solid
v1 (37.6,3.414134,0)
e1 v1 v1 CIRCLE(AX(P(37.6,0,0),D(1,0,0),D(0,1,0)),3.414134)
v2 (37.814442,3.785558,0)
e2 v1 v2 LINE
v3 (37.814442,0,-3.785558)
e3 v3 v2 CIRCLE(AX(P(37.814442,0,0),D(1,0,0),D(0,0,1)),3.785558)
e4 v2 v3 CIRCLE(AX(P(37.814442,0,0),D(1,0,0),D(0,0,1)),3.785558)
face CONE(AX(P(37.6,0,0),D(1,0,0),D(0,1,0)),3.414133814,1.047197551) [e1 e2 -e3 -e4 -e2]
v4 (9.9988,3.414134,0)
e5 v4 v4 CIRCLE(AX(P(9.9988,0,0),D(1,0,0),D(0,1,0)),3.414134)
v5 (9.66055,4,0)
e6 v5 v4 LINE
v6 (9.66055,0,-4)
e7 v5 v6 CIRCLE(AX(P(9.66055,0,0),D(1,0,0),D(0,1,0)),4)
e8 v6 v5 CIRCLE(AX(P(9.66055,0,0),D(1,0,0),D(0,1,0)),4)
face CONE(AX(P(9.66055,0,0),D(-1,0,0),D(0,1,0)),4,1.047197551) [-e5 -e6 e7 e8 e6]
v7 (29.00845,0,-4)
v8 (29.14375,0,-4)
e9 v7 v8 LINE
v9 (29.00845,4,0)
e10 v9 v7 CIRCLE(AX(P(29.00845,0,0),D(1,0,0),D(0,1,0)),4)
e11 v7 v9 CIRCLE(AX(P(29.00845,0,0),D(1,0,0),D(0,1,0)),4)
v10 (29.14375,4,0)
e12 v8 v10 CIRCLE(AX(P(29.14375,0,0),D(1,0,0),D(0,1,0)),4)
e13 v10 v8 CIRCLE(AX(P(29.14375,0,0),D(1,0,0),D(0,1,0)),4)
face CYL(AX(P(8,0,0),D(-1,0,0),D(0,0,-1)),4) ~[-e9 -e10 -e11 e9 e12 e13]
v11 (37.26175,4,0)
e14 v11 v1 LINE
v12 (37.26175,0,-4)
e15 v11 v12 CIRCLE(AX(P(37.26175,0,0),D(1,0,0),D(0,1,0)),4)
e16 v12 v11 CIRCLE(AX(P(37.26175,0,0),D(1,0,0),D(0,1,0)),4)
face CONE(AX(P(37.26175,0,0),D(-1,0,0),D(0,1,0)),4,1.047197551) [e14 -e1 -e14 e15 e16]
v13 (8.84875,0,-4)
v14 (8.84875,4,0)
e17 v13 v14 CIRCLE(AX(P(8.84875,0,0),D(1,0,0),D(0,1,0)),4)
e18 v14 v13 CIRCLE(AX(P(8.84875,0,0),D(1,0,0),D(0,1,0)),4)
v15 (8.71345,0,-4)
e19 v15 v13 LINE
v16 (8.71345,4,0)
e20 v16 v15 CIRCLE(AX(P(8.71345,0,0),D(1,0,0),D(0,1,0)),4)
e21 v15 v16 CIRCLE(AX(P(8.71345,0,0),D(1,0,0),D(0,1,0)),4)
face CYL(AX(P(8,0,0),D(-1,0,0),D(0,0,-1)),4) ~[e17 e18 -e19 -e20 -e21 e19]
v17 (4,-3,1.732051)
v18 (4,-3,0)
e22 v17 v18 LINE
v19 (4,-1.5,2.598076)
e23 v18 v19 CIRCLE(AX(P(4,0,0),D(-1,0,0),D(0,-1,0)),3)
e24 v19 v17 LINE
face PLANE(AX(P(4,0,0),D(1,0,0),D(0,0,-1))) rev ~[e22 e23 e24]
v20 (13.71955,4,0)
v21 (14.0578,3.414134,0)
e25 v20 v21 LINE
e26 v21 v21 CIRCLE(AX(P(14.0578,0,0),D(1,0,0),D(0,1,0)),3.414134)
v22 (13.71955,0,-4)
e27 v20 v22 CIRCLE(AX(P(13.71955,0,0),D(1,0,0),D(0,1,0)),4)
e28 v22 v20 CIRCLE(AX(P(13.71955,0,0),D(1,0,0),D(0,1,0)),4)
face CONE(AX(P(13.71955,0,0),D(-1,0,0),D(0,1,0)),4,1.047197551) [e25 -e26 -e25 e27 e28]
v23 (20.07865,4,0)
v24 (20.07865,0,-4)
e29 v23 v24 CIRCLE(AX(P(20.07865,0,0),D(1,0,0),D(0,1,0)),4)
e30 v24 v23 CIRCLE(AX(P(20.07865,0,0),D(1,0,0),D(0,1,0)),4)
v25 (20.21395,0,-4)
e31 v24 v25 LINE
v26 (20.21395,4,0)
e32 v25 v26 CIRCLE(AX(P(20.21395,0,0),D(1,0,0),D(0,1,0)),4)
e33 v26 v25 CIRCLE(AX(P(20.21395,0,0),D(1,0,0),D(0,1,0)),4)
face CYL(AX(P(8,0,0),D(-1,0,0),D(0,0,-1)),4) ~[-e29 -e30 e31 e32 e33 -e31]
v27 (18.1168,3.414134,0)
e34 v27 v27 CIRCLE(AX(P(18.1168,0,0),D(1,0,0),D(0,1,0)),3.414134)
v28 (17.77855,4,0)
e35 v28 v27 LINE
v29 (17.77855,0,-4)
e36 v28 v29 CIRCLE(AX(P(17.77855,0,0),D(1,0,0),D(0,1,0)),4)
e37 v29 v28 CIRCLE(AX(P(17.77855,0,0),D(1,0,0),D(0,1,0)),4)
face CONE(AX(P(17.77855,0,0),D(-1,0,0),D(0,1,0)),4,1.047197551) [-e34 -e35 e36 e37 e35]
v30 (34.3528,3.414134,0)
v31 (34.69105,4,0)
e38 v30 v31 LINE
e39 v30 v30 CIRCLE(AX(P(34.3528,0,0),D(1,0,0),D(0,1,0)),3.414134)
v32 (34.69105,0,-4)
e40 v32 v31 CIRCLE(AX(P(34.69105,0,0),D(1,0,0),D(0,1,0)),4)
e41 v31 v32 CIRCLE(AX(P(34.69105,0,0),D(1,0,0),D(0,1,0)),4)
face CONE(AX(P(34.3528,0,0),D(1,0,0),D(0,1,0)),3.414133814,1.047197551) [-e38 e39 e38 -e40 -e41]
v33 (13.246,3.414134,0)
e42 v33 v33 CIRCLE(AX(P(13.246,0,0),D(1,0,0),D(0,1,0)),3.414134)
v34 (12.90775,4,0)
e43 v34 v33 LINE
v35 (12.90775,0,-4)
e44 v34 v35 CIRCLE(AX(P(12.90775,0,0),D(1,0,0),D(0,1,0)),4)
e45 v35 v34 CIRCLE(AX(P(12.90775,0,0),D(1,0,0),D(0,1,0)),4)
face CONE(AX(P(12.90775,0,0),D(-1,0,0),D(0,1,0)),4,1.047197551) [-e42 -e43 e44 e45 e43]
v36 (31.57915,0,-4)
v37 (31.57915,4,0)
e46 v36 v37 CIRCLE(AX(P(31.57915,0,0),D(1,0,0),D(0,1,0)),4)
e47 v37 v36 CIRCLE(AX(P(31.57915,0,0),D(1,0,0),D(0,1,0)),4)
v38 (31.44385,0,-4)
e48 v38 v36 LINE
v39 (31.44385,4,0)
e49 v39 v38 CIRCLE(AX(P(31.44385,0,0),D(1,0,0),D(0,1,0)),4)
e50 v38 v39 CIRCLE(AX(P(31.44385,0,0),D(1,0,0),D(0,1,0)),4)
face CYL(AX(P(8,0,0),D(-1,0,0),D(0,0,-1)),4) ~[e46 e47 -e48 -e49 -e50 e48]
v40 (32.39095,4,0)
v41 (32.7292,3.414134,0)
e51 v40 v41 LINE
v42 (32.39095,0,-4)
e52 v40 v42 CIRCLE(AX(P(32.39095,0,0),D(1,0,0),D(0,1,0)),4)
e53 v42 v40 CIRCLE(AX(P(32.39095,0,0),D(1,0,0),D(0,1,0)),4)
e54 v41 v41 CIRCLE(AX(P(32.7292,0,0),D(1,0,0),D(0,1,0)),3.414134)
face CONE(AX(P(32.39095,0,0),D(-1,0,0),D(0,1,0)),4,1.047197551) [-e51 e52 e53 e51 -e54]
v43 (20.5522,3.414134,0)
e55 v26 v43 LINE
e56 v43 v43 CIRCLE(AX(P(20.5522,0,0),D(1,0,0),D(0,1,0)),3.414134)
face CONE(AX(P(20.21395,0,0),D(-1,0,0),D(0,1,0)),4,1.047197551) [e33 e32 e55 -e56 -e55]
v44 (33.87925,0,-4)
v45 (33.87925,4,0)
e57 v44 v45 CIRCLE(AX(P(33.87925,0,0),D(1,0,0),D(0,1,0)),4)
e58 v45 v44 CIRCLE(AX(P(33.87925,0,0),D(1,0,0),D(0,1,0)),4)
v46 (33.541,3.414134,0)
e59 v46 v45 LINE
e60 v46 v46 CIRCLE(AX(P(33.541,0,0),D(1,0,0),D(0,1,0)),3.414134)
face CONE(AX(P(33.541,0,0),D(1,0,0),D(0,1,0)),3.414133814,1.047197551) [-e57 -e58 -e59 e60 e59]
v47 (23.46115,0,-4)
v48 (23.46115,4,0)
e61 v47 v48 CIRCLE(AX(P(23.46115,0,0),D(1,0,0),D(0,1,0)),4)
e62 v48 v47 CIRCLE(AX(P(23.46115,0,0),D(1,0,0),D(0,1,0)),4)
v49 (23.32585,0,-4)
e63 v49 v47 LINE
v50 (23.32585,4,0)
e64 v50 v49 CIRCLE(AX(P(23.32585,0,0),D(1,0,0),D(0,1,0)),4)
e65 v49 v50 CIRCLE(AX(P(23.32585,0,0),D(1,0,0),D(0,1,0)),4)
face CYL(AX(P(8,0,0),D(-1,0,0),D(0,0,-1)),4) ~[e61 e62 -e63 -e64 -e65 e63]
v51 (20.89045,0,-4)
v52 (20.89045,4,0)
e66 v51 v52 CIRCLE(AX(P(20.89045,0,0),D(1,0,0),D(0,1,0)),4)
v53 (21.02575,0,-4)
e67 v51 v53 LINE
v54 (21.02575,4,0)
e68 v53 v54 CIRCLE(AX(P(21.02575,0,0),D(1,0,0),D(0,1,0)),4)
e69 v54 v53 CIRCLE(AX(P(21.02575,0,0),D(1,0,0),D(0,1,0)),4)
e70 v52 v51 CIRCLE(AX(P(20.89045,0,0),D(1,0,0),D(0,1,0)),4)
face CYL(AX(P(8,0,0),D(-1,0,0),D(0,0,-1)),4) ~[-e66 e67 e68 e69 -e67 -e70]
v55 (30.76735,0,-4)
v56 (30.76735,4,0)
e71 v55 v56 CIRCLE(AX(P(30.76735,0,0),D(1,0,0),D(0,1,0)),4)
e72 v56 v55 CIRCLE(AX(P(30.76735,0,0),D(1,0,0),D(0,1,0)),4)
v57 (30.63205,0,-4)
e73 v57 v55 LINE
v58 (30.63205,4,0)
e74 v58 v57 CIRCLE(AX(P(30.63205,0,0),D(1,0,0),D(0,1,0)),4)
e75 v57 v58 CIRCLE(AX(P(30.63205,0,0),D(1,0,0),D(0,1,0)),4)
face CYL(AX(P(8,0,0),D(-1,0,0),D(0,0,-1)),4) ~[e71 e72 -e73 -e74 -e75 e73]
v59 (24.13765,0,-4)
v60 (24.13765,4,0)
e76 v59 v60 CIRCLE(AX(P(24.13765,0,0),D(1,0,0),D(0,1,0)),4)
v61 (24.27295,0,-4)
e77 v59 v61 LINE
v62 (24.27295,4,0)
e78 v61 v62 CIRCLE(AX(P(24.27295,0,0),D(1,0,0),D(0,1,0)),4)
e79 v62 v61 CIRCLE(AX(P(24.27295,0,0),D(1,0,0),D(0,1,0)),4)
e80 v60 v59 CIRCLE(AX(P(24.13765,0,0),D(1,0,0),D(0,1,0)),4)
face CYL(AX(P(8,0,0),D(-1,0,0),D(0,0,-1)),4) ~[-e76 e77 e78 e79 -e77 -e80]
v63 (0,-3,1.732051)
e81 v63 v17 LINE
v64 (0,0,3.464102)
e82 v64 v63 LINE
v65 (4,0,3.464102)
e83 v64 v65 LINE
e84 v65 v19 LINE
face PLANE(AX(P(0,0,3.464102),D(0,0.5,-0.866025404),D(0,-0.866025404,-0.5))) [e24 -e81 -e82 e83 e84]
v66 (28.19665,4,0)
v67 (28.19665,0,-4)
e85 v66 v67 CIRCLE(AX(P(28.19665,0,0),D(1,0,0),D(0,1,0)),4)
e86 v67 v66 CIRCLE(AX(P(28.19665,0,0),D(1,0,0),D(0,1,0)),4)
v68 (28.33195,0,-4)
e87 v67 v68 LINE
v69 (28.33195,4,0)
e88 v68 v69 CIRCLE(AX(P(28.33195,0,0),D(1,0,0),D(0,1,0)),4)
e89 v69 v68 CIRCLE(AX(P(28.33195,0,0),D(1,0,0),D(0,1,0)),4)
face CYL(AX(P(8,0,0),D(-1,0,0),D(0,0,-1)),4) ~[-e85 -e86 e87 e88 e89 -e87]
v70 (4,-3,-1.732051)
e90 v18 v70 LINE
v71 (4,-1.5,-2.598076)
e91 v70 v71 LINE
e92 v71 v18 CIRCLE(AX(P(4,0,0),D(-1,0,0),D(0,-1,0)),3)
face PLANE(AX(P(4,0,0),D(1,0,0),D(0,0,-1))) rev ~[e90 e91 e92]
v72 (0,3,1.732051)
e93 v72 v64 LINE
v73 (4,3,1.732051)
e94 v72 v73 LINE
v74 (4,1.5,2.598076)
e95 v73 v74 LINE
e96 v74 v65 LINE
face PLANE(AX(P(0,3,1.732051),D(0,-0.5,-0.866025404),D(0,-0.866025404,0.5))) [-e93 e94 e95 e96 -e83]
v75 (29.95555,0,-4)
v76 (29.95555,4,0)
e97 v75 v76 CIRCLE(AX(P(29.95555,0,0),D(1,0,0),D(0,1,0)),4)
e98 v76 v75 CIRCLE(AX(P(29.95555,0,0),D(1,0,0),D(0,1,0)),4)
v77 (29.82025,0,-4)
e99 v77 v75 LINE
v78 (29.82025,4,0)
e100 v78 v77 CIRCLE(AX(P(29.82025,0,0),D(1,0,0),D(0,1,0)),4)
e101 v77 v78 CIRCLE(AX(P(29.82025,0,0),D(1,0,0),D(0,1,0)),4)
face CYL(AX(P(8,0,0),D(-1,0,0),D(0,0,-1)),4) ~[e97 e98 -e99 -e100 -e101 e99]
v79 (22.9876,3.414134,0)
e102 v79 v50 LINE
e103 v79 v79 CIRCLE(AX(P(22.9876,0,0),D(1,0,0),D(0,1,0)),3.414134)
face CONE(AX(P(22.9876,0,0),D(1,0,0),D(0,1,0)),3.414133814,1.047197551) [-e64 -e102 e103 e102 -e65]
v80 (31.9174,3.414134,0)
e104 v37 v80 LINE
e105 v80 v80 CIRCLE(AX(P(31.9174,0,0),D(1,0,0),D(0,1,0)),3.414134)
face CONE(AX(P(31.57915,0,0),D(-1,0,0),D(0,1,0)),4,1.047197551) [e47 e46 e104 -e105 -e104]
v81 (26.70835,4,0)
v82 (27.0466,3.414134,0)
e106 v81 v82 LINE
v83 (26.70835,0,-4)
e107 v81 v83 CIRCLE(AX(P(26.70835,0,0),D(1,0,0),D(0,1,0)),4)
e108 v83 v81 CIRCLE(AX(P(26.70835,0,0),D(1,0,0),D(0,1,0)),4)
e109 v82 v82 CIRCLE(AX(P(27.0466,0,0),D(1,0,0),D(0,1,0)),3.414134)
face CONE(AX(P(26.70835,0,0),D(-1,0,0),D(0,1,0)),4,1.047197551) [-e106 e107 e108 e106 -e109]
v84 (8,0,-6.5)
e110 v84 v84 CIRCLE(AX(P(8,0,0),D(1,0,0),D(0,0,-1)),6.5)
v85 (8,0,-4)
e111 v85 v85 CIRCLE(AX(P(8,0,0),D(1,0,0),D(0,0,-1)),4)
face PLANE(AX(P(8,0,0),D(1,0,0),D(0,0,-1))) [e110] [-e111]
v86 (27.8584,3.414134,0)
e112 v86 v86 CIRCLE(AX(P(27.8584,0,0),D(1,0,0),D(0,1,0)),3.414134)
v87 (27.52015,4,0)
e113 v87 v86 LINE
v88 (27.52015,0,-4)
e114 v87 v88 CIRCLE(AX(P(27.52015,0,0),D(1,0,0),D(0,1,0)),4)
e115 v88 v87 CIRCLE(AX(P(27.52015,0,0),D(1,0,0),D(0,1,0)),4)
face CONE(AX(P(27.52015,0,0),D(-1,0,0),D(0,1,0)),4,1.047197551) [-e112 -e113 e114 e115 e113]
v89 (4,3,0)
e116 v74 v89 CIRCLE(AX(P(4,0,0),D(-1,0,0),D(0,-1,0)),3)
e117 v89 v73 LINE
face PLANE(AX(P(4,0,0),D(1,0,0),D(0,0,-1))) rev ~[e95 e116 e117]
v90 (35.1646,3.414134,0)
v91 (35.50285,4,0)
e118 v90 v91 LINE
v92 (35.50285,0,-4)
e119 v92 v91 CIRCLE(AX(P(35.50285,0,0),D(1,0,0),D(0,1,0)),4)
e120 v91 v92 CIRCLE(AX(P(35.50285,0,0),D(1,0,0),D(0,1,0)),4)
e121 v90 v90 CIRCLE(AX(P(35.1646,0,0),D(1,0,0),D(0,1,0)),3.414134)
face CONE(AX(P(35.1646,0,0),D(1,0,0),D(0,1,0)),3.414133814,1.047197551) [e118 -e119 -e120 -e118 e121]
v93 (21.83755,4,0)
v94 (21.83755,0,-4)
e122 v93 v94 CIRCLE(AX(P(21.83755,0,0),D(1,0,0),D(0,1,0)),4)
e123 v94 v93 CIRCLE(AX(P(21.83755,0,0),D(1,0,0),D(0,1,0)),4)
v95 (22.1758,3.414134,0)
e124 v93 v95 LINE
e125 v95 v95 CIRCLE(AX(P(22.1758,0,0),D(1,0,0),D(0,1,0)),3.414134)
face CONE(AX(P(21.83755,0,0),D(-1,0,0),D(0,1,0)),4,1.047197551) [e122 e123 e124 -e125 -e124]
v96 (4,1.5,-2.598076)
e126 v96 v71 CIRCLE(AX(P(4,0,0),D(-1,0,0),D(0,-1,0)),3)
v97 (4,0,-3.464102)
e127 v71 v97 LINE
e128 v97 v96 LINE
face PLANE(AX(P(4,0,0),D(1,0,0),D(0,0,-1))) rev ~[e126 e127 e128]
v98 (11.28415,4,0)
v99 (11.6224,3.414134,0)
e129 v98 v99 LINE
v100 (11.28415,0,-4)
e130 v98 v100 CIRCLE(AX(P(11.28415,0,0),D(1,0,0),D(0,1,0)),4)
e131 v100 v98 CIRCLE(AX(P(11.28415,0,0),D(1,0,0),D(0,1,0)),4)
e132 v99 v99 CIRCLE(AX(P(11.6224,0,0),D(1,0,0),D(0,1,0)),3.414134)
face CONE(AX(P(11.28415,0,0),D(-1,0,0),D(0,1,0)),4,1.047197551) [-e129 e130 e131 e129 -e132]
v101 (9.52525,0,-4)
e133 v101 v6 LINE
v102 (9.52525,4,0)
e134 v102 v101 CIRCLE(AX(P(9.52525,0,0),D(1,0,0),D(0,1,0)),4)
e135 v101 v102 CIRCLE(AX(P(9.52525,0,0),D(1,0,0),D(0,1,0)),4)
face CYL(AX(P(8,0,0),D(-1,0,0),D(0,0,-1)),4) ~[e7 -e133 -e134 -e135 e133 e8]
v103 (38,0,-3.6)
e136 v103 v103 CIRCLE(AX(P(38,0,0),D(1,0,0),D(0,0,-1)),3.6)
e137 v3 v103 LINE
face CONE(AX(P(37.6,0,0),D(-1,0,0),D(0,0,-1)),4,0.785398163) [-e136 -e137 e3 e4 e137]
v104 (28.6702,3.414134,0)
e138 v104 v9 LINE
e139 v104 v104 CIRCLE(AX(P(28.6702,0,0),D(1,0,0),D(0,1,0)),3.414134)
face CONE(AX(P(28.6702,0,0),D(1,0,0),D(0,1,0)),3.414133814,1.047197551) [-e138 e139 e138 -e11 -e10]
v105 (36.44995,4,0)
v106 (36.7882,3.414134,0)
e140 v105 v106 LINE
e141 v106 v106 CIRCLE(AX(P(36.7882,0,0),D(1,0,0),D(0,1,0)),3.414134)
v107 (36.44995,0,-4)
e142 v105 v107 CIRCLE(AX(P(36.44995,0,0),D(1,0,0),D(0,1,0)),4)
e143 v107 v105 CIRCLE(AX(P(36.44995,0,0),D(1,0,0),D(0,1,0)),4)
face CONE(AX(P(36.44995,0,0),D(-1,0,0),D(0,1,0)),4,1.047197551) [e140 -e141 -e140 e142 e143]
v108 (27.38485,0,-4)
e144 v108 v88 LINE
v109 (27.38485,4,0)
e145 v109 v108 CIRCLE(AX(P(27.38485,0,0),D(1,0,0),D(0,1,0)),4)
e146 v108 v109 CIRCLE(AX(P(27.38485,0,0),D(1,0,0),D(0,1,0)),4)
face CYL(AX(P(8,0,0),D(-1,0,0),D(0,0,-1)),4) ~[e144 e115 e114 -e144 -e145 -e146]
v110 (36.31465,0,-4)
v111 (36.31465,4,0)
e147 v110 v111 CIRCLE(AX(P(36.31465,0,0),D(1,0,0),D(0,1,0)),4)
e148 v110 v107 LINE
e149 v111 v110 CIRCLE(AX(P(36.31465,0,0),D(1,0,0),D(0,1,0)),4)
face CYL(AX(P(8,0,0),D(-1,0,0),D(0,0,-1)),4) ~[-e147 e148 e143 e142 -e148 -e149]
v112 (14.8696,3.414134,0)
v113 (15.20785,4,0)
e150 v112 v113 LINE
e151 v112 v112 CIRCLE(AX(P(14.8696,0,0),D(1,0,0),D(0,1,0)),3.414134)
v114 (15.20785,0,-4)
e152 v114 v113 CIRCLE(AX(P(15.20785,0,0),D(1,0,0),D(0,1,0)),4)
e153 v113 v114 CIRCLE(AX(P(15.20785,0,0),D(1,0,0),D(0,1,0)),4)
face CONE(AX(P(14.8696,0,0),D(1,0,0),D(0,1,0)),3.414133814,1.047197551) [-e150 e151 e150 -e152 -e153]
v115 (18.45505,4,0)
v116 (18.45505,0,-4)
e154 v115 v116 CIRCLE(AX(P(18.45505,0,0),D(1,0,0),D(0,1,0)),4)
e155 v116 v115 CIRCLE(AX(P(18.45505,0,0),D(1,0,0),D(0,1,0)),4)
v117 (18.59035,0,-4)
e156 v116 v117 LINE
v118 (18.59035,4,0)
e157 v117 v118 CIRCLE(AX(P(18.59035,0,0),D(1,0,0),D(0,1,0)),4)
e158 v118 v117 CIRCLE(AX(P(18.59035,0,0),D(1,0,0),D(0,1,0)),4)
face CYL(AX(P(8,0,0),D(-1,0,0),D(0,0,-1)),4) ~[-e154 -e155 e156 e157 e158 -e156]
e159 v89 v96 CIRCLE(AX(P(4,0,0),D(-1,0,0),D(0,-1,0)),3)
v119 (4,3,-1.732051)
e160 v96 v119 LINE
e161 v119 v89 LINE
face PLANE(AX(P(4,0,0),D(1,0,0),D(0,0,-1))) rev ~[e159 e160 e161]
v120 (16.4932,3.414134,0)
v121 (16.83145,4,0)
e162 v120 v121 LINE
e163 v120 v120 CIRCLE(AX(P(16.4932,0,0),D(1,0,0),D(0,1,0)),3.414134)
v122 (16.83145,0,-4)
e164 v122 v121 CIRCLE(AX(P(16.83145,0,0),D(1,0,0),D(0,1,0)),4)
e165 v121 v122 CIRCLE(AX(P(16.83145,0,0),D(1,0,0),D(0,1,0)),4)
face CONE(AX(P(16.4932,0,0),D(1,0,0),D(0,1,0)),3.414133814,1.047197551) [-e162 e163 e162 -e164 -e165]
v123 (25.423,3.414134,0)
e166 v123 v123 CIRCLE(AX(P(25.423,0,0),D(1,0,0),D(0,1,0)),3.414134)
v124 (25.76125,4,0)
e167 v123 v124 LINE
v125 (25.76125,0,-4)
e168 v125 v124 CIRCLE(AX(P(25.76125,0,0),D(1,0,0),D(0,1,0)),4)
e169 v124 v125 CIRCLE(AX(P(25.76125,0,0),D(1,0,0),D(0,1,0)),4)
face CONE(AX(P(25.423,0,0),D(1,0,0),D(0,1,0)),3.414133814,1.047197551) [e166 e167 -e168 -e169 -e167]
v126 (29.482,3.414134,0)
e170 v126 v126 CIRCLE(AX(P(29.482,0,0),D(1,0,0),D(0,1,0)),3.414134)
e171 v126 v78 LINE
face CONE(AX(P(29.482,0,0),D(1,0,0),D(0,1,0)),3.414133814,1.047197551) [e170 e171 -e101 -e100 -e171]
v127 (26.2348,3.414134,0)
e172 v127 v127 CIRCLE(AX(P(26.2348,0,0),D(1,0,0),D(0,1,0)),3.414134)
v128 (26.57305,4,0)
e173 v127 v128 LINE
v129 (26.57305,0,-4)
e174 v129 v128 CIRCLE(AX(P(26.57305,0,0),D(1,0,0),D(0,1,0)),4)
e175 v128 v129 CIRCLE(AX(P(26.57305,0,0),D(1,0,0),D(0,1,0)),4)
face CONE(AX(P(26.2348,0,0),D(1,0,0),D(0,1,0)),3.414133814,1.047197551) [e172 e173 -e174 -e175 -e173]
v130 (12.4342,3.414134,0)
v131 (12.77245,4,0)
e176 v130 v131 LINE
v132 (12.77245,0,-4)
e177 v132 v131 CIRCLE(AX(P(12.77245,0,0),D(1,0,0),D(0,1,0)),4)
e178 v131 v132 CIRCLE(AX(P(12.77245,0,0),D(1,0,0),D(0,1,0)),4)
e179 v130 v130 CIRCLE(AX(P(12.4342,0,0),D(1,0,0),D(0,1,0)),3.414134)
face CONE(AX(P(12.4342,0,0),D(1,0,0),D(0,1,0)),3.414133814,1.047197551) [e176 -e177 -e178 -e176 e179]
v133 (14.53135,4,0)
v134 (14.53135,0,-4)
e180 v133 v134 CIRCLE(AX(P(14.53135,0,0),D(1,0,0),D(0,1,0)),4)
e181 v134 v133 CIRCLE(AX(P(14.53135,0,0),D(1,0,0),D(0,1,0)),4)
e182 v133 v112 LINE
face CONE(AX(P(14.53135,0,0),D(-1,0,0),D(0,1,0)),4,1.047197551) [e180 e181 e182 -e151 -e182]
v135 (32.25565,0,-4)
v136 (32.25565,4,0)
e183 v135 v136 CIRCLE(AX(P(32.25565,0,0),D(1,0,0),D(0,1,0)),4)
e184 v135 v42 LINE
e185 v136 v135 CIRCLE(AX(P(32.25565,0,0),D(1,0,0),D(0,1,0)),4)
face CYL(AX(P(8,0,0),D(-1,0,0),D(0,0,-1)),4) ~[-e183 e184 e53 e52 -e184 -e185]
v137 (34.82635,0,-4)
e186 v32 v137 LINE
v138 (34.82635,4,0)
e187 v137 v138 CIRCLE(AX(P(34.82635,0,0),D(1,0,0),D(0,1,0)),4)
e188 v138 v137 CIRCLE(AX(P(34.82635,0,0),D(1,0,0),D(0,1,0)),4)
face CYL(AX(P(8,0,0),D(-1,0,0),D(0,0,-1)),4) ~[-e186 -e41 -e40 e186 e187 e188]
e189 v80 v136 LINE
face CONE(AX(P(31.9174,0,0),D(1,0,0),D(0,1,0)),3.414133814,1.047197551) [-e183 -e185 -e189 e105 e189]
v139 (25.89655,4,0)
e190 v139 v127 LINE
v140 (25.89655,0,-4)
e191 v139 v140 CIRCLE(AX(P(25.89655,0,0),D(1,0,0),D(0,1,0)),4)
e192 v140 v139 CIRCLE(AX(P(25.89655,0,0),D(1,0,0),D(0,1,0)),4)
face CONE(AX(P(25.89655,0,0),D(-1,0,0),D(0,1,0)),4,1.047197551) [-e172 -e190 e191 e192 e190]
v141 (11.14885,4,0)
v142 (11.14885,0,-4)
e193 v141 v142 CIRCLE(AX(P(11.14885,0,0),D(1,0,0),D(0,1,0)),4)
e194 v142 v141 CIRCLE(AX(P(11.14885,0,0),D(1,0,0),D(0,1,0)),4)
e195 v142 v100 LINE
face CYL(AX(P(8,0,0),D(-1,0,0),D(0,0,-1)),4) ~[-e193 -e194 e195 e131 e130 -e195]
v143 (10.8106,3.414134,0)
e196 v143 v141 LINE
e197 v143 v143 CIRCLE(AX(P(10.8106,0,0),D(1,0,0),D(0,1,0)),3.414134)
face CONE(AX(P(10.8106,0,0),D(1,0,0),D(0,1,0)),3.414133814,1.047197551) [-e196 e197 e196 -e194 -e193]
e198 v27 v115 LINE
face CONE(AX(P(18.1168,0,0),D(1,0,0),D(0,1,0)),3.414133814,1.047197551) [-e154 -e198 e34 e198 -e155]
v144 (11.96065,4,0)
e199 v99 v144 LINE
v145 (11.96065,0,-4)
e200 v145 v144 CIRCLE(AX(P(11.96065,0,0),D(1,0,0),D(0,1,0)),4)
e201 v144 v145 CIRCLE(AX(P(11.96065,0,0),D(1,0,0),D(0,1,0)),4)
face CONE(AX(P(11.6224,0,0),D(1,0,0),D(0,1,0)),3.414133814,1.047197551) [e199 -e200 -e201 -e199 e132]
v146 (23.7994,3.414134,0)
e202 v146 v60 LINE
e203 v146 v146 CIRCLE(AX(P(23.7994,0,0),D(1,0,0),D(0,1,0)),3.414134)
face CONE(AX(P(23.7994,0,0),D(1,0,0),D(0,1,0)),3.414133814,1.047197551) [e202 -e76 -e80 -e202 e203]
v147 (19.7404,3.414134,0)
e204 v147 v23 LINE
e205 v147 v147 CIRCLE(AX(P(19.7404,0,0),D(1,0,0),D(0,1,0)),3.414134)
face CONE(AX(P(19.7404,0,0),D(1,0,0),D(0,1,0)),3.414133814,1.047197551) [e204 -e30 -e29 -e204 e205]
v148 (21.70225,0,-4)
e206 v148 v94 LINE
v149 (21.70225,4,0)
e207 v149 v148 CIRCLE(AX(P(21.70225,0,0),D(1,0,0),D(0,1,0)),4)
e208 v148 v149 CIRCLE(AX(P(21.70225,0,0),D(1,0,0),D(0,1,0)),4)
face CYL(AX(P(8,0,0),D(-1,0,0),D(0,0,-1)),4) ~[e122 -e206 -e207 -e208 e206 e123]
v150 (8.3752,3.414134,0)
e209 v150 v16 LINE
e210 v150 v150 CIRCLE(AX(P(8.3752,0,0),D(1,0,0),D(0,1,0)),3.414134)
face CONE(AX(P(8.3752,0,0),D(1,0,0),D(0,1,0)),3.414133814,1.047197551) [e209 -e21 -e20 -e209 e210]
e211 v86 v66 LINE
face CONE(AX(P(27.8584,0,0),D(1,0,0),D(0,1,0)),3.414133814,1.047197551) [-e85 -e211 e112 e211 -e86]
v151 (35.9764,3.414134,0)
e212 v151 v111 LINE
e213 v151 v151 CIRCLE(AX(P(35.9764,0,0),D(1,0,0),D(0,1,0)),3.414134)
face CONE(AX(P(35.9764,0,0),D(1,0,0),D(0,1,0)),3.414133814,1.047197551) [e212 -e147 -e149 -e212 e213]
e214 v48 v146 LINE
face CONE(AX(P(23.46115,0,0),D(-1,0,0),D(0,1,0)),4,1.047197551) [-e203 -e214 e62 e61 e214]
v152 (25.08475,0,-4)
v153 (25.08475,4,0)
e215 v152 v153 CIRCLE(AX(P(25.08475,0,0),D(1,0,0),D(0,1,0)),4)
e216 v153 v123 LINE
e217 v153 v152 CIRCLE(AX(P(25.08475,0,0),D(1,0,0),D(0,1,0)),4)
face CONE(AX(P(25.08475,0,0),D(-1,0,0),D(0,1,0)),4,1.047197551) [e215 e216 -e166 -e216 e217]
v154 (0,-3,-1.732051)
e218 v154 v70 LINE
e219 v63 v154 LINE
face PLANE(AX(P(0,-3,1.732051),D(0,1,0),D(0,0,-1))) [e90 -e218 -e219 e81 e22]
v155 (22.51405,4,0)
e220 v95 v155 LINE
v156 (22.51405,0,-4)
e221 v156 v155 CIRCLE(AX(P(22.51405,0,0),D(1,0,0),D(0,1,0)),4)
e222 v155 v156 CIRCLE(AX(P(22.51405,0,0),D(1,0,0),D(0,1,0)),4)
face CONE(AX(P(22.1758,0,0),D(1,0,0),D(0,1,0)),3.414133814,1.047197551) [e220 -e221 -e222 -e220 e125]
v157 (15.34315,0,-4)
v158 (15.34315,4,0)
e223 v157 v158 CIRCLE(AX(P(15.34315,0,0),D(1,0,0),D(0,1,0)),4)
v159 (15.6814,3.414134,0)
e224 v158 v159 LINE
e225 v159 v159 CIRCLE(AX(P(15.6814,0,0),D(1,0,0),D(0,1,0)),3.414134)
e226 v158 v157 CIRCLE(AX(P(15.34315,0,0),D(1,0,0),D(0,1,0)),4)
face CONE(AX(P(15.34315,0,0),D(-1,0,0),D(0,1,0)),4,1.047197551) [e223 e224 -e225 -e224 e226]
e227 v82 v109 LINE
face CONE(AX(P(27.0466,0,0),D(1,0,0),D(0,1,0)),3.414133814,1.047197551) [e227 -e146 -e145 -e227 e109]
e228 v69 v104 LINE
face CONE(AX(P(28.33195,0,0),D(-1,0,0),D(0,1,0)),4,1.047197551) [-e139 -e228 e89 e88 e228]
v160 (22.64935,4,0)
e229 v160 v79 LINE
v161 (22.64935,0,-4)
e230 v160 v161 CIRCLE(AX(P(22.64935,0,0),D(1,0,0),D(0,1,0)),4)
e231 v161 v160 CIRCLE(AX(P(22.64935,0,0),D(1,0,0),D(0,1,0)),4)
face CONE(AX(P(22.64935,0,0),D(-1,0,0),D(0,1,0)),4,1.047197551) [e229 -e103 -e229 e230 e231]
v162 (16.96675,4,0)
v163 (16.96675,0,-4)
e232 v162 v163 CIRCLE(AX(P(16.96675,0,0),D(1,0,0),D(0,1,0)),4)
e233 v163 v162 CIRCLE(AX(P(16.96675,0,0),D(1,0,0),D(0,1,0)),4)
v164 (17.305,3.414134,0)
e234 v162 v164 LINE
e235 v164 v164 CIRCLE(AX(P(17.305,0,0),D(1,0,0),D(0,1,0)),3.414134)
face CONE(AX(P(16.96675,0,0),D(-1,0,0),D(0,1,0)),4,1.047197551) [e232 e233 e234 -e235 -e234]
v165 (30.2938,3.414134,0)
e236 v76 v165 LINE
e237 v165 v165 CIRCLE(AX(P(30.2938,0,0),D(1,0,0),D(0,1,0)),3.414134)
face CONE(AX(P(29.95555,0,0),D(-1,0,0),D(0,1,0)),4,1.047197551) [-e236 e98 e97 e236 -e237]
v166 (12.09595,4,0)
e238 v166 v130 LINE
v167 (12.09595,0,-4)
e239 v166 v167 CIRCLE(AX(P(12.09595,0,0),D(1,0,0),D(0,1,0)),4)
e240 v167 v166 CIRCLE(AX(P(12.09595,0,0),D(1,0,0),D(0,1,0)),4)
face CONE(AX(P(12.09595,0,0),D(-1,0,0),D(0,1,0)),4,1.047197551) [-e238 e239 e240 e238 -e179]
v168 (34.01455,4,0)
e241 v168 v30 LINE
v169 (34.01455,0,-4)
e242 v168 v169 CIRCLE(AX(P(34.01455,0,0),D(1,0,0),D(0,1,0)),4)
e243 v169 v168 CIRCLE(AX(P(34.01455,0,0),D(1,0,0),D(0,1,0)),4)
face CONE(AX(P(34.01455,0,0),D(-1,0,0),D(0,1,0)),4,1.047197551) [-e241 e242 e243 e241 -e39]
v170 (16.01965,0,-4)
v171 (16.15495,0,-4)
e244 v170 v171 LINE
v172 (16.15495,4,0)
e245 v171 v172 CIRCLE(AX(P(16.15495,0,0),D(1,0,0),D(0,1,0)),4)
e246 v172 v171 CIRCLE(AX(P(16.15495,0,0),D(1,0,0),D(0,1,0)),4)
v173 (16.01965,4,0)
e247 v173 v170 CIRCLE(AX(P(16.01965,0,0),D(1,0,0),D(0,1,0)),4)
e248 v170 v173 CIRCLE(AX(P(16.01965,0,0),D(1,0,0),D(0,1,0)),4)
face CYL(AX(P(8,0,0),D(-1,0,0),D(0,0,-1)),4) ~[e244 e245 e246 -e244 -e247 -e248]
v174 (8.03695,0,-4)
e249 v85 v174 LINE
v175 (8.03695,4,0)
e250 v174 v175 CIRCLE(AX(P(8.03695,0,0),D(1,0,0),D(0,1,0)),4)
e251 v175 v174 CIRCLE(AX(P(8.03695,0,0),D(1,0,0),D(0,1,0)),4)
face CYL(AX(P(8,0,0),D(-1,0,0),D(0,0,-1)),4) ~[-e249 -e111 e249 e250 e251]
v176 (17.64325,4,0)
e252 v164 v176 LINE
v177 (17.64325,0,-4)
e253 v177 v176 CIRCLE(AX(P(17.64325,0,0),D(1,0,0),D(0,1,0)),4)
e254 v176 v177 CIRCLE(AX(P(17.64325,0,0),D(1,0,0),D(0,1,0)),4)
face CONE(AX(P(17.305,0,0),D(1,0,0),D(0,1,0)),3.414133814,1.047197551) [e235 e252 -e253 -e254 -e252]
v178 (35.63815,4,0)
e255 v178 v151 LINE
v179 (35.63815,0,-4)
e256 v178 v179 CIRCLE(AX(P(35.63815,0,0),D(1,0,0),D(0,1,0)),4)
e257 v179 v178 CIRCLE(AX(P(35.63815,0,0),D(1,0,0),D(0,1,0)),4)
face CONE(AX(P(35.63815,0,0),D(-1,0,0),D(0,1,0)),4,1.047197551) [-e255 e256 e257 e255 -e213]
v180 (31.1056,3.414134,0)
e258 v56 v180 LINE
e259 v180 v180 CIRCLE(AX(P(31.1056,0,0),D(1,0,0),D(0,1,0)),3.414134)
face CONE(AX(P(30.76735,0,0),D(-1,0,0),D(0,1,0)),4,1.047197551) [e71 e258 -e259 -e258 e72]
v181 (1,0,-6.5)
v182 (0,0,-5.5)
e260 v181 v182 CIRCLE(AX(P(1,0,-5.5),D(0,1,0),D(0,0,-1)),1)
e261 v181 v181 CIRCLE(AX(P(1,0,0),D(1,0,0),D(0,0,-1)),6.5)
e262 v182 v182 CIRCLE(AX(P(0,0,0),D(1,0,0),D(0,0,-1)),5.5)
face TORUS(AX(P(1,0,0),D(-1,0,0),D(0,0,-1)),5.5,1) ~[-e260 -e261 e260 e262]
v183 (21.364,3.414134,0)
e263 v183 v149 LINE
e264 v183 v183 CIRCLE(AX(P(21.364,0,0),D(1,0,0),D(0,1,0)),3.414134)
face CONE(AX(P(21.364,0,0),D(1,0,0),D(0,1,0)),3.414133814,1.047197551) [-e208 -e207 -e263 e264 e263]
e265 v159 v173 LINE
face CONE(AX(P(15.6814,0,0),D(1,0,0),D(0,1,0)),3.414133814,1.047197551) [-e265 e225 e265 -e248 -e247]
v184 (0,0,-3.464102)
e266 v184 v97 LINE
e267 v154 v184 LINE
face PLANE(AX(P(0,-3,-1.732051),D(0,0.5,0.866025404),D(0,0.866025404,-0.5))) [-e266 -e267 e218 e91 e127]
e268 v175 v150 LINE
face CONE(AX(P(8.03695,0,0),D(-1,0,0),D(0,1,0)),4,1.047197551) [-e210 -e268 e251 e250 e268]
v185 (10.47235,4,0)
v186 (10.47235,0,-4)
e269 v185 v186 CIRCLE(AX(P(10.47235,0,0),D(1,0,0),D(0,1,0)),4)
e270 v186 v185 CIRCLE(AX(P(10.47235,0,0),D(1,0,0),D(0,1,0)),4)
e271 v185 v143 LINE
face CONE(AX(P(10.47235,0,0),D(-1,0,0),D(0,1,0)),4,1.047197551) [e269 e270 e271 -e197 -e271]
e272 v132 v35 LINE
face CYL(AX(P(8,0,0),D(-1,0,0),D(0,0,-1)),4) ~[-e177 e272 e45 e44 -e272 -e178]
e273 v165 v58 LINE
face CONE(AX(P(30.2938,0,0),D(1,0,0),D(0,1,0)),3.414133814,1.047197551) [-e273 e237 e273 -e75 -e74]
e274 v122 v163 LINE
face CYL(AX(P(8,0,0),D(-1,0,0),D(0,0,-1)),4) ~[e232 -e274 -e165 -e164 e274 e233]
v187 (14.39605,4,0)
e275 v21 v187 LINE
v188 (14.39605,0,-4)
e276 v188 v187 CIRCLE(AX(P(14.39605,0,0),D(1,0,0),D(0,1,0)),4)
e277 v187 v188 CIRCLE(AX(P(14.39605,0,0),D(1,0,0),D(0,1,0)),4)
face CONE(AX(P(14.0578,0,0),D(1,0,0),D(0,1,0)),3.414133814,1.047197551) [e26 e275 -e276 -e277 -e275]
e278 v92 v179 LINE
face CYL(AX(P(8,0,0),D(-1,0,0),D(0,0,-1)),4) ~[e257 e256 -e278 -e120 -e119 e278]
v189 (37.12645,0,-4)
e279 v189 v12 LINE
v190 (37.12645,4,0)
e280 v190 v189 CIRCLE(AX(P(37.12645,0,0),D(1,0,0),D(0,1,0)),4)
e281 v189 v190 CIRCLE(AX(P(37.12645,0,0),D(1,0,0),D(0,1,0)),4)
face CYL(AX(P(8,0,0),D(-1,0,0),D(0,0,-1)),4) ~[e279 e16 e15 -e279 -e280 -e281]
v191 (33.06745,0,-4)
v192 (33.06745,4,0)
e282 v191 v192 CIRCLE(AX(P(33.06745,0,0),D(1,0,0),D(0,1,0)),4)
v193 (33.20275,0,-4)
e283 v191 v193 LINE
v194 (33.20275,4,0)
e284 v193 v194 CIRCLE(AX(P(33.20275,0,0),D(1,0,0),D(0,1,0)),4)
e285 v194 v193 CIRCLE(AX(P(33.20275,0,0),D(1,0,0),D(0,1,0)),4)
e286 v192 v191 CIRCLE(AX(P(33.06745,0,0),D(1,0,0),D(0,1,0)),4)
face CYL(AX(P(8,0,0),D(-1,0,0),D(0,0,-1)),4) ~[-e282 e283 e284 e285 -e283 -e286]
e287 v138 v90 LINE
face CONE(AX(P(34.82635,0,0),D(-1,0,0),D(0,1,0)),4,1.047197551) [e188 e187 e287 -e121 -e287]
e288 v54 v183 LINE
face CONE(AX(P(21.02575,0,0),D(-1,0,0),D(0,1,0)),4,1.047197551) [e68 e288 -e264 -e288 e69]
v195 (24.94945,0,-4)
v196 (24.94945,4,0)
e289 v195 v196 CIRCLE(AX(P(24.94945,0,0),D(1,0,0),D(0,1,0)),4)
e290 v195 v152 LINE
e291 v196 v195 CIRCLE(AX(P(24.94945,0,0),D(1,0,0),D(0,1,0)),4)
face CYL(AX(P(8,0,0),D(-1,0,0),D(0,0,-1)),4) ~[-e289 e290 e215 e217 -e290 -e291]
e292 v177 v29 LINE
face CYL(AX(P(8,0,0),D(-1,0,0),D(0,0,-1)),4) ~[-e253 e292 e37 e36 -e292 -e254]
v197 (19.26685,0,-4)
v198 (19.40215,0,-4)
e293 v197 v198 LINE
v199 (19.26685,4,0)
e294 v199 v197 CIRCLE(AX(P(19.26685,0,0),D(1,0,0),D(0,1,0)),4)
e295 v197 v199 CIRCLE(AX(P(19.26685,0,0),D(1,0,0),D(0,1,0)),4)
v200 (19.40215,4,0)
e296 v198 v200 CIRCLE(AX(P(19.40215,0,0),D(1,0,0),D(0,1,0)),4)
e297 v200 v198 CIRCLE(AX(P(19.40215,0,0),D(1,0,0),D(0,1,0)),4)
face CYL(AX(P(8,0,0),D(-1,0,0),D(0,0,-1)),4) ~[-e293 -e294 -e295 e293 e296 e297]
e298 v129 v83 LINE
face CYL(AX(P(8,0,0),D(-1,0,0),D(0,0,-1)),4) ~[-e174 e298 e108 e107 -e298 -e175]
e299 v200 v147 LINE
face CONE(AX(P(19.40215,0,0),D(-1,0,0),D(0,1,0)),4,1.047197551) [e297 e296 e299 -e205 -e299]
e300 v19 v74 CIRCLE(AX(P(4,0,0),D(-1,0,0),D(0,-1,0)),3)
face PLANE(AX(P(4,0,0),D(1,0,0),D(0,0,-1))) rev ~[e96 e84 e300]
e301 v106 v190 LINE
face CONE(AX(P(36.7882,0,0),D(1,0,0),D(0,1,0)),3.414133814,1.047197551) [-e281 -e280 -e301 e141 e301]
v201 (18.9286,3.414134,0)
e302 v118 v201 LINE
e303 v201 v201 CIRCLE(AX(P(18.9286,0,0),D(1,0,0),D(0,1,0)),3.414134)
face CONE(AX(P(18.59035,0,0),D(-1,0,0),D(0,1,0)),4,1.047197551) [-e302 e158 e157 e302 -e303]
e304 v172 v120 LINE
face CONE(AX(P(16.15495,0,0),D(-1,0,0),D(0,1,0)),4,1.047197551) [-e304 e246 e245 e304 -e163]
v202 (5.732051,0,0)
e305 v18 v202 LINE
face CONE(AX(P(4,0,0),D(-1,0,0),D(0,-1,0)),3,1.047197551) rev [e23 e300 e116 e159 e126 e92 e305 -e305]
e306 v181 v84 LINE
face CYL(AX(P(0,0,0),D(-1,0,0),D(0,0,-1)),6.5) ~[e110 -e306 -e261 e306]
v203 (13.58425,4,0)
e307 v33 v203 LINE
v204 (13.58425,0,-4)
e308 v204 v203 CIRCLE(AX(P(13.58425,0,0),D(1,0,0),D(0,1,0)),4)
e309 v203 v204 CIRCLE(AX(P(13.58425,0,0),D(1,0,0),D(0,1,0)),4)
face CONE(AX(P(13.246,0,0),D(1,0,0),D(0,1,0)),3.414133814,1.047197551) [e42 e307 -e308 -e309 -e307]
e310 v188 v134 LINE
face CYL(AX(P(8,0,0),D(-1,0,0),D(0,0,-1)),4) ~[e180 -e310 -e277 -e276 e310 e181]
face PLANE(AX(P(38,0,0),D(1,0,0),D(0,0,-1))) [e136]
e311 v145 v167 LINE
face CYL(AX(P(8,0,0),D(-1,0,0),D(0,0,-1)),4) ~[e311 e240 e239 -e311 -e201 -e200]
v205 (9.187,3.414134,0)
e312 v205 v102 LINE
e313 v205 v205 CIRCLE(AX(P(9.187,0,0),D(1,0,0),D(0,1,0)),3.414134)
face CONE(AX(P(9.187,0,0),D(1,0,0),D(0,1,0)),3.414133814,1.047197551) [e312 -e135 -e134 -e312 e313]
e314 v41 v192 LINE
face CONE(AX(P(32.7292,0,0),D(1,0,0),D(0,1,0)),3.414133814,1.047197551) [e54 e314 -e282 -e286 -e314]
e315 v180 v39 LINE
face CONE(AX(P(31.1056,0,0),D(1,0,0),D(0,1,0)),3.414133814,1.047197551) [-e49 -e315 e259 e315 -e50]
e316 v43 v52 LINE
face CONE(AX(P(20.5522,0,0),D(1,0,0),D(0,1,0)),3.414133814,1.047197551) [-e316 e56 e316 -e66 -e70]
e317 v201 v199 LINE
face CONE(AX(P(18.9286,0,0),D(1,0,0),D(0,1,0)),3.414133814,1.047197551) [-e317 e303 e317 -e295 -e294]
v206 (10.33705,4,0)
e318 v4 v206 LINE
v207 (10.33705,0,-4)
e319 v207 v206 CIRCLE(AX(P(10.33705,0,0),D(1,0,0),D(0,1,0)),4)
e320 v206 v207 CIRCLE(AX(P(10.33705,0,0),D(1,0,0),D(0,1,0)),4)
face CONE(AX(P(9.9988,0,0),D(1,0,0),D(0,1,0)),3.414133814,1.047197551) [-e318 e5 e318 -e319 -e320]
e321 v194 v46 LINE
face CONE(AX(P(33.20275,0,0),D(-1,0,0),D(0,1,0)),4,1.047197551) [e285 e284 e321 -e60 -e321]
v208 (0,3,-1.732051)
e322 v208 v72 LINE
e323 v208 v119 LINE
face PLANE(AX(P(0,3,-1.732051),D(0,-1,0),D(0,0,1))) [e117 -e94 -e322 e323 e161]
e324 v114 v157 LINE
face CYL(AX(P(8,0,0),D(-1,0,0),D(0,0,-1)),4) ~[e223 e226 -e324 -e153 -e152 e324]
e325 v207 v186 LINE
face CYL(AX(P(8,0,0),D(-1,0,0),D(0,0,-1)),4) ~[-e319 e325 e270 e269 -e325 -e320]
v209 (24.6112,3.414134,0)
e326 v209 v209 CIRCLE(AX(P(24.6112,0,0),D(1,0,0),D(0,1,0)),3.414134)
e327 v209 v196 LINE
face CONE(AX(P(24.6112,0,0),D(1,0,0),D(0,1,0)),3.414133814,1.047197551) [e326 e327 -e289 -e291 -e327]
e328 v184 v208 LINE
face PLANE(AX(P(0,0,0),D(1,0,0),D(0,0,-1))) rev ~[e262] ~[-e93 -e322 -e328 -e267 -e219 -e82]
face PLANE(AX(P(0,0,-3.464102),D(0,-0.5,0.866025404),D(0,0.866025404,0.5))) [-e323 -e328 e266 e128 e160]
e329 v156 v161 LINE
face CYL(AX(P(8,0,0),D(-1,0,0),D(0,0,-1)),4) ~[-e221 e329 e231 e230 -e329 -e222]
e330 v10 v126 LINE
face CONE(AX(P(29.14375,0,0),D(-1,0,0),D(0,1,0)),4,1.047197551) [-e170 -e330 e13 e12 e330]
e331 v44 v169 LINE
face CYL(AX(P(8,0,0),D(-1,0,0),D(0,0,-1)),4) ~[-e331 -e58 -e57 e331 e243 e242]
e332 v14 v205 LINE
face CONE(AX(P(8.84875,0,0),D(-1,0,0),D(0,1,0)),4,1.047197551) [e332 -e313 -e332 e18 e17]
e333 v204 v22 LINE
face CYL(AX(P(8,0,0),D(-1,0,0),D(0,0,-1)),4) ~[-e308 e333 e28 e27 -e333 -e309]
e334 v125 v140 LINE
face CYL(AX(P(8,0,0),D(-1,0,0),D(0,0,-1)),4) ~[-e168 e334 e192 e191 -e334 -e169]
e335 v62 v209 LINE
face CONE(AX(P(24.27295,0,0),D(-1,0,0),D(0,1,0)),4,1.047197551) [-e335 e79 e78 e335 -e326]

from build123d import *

# Parameters (mm, degrees)
SKETCH1_R           = 6.5
BASEHEAD_DEPTH      = 8
SKETCH2_R           = 4
BASEBODY_DEPTH      = 30
HEXAGONSOCKET_DEPTH = 4
TOPFILLET_R         = 1
CHAMFER1_SIZE       = 0.4
LPATTERN10_COUNT    = 37
LPATTERN10_PITCH    = 0.8118


with BuildPart() as part:
    # Sketch1 → BaseHead (new body)
    with BuildSketch(Plane(origin=(0, 0, 0), x_dir=(0, 0, -1), z_dir=(1, 0, 0))):
        Circle(SKETCH1_R)
    extrude(amount=BASEHEAD_DEPTH)

    # Sketch2 → BaseBody (add)
    with BuildSketch(Plane(origin=(8, 0, 0), x_dir=(0, 0, -1), z_dir=(1, 0, 0))):
        Circle(SKETCH2_R)
    extrude(amount=BASEBODY_DEPTH)

    # Sketch3 → HexagonSocket (cut)
    with BuildSketch(Plane(origin=(0, 0, 0), x_dir=(0, 0, -1), z_dir=(1, 0, 0))):
        Polygon((3.464101615, 0), (1.732050808, 3), (-1.732050808, 3), (-3.464101615, 0), (-1.732050808, -3), (1.732050808, -3), align=None)
    extrude(amount=HEXAGONSOCKET_DEPTH, mode=Mode.SUBTRACT)

    # Sketch4 → Cut-Revolve1 (revolve, cut)
    with BuildSketch(Plane(origin=(-4.19613823, 0.75, 0), x_dir=(-1, 0, 0), z_dir=(0, 0, 1))):
        Polygon((-8.19613823, 3.75), (-9.928189037, 0.75), (-8.19613823, 0.75), align=None)
    revolve(axis=Axis((0.838992387, 0, 0), (-1, 0, 0)), mode=Mode.SUBTRACT)

    # TopFillet
    topfillet_edges = [part.edges().sort_by_distance(p)[0] for p in [
        (0, 0, 6.5),
    ]]
    fillet(topfillet_edges, radius=TOPFILLET_R)

    # Chamfer1
    chamfer1_edges = [part.edges().sort_by_distance(p)[0] for p in [
        (38, 0, 4),
    ]]
    chamfer(chamfer1_edges, length=CHAMFER1_SIZE)

    # Sketch5 → Cut-Revolve10 (revolve, cut)
    with BuildSketch(Plane.XY):
        Polygon((37.6, 3.414133814), (37.93825, 4), (37.93825, 4.6765), (37.26175, 4.6765), (37.26175, 4), align=None)
    cut_revolve10 = revolve(axis=Axis((0, 0, 0), (1, 0, 0)), mode=Mode.SUBTRACT)

    # LPattern10: Cut-Revolve10 ×37
    with Locations(*[(-i * LPATTERN10_PITCH, 0, 0) for i in range(1, LPATTERN10_COUNT)]):
        add(cut_revolve10, mode=Mode.SUBTRACT)


solid = part.part
